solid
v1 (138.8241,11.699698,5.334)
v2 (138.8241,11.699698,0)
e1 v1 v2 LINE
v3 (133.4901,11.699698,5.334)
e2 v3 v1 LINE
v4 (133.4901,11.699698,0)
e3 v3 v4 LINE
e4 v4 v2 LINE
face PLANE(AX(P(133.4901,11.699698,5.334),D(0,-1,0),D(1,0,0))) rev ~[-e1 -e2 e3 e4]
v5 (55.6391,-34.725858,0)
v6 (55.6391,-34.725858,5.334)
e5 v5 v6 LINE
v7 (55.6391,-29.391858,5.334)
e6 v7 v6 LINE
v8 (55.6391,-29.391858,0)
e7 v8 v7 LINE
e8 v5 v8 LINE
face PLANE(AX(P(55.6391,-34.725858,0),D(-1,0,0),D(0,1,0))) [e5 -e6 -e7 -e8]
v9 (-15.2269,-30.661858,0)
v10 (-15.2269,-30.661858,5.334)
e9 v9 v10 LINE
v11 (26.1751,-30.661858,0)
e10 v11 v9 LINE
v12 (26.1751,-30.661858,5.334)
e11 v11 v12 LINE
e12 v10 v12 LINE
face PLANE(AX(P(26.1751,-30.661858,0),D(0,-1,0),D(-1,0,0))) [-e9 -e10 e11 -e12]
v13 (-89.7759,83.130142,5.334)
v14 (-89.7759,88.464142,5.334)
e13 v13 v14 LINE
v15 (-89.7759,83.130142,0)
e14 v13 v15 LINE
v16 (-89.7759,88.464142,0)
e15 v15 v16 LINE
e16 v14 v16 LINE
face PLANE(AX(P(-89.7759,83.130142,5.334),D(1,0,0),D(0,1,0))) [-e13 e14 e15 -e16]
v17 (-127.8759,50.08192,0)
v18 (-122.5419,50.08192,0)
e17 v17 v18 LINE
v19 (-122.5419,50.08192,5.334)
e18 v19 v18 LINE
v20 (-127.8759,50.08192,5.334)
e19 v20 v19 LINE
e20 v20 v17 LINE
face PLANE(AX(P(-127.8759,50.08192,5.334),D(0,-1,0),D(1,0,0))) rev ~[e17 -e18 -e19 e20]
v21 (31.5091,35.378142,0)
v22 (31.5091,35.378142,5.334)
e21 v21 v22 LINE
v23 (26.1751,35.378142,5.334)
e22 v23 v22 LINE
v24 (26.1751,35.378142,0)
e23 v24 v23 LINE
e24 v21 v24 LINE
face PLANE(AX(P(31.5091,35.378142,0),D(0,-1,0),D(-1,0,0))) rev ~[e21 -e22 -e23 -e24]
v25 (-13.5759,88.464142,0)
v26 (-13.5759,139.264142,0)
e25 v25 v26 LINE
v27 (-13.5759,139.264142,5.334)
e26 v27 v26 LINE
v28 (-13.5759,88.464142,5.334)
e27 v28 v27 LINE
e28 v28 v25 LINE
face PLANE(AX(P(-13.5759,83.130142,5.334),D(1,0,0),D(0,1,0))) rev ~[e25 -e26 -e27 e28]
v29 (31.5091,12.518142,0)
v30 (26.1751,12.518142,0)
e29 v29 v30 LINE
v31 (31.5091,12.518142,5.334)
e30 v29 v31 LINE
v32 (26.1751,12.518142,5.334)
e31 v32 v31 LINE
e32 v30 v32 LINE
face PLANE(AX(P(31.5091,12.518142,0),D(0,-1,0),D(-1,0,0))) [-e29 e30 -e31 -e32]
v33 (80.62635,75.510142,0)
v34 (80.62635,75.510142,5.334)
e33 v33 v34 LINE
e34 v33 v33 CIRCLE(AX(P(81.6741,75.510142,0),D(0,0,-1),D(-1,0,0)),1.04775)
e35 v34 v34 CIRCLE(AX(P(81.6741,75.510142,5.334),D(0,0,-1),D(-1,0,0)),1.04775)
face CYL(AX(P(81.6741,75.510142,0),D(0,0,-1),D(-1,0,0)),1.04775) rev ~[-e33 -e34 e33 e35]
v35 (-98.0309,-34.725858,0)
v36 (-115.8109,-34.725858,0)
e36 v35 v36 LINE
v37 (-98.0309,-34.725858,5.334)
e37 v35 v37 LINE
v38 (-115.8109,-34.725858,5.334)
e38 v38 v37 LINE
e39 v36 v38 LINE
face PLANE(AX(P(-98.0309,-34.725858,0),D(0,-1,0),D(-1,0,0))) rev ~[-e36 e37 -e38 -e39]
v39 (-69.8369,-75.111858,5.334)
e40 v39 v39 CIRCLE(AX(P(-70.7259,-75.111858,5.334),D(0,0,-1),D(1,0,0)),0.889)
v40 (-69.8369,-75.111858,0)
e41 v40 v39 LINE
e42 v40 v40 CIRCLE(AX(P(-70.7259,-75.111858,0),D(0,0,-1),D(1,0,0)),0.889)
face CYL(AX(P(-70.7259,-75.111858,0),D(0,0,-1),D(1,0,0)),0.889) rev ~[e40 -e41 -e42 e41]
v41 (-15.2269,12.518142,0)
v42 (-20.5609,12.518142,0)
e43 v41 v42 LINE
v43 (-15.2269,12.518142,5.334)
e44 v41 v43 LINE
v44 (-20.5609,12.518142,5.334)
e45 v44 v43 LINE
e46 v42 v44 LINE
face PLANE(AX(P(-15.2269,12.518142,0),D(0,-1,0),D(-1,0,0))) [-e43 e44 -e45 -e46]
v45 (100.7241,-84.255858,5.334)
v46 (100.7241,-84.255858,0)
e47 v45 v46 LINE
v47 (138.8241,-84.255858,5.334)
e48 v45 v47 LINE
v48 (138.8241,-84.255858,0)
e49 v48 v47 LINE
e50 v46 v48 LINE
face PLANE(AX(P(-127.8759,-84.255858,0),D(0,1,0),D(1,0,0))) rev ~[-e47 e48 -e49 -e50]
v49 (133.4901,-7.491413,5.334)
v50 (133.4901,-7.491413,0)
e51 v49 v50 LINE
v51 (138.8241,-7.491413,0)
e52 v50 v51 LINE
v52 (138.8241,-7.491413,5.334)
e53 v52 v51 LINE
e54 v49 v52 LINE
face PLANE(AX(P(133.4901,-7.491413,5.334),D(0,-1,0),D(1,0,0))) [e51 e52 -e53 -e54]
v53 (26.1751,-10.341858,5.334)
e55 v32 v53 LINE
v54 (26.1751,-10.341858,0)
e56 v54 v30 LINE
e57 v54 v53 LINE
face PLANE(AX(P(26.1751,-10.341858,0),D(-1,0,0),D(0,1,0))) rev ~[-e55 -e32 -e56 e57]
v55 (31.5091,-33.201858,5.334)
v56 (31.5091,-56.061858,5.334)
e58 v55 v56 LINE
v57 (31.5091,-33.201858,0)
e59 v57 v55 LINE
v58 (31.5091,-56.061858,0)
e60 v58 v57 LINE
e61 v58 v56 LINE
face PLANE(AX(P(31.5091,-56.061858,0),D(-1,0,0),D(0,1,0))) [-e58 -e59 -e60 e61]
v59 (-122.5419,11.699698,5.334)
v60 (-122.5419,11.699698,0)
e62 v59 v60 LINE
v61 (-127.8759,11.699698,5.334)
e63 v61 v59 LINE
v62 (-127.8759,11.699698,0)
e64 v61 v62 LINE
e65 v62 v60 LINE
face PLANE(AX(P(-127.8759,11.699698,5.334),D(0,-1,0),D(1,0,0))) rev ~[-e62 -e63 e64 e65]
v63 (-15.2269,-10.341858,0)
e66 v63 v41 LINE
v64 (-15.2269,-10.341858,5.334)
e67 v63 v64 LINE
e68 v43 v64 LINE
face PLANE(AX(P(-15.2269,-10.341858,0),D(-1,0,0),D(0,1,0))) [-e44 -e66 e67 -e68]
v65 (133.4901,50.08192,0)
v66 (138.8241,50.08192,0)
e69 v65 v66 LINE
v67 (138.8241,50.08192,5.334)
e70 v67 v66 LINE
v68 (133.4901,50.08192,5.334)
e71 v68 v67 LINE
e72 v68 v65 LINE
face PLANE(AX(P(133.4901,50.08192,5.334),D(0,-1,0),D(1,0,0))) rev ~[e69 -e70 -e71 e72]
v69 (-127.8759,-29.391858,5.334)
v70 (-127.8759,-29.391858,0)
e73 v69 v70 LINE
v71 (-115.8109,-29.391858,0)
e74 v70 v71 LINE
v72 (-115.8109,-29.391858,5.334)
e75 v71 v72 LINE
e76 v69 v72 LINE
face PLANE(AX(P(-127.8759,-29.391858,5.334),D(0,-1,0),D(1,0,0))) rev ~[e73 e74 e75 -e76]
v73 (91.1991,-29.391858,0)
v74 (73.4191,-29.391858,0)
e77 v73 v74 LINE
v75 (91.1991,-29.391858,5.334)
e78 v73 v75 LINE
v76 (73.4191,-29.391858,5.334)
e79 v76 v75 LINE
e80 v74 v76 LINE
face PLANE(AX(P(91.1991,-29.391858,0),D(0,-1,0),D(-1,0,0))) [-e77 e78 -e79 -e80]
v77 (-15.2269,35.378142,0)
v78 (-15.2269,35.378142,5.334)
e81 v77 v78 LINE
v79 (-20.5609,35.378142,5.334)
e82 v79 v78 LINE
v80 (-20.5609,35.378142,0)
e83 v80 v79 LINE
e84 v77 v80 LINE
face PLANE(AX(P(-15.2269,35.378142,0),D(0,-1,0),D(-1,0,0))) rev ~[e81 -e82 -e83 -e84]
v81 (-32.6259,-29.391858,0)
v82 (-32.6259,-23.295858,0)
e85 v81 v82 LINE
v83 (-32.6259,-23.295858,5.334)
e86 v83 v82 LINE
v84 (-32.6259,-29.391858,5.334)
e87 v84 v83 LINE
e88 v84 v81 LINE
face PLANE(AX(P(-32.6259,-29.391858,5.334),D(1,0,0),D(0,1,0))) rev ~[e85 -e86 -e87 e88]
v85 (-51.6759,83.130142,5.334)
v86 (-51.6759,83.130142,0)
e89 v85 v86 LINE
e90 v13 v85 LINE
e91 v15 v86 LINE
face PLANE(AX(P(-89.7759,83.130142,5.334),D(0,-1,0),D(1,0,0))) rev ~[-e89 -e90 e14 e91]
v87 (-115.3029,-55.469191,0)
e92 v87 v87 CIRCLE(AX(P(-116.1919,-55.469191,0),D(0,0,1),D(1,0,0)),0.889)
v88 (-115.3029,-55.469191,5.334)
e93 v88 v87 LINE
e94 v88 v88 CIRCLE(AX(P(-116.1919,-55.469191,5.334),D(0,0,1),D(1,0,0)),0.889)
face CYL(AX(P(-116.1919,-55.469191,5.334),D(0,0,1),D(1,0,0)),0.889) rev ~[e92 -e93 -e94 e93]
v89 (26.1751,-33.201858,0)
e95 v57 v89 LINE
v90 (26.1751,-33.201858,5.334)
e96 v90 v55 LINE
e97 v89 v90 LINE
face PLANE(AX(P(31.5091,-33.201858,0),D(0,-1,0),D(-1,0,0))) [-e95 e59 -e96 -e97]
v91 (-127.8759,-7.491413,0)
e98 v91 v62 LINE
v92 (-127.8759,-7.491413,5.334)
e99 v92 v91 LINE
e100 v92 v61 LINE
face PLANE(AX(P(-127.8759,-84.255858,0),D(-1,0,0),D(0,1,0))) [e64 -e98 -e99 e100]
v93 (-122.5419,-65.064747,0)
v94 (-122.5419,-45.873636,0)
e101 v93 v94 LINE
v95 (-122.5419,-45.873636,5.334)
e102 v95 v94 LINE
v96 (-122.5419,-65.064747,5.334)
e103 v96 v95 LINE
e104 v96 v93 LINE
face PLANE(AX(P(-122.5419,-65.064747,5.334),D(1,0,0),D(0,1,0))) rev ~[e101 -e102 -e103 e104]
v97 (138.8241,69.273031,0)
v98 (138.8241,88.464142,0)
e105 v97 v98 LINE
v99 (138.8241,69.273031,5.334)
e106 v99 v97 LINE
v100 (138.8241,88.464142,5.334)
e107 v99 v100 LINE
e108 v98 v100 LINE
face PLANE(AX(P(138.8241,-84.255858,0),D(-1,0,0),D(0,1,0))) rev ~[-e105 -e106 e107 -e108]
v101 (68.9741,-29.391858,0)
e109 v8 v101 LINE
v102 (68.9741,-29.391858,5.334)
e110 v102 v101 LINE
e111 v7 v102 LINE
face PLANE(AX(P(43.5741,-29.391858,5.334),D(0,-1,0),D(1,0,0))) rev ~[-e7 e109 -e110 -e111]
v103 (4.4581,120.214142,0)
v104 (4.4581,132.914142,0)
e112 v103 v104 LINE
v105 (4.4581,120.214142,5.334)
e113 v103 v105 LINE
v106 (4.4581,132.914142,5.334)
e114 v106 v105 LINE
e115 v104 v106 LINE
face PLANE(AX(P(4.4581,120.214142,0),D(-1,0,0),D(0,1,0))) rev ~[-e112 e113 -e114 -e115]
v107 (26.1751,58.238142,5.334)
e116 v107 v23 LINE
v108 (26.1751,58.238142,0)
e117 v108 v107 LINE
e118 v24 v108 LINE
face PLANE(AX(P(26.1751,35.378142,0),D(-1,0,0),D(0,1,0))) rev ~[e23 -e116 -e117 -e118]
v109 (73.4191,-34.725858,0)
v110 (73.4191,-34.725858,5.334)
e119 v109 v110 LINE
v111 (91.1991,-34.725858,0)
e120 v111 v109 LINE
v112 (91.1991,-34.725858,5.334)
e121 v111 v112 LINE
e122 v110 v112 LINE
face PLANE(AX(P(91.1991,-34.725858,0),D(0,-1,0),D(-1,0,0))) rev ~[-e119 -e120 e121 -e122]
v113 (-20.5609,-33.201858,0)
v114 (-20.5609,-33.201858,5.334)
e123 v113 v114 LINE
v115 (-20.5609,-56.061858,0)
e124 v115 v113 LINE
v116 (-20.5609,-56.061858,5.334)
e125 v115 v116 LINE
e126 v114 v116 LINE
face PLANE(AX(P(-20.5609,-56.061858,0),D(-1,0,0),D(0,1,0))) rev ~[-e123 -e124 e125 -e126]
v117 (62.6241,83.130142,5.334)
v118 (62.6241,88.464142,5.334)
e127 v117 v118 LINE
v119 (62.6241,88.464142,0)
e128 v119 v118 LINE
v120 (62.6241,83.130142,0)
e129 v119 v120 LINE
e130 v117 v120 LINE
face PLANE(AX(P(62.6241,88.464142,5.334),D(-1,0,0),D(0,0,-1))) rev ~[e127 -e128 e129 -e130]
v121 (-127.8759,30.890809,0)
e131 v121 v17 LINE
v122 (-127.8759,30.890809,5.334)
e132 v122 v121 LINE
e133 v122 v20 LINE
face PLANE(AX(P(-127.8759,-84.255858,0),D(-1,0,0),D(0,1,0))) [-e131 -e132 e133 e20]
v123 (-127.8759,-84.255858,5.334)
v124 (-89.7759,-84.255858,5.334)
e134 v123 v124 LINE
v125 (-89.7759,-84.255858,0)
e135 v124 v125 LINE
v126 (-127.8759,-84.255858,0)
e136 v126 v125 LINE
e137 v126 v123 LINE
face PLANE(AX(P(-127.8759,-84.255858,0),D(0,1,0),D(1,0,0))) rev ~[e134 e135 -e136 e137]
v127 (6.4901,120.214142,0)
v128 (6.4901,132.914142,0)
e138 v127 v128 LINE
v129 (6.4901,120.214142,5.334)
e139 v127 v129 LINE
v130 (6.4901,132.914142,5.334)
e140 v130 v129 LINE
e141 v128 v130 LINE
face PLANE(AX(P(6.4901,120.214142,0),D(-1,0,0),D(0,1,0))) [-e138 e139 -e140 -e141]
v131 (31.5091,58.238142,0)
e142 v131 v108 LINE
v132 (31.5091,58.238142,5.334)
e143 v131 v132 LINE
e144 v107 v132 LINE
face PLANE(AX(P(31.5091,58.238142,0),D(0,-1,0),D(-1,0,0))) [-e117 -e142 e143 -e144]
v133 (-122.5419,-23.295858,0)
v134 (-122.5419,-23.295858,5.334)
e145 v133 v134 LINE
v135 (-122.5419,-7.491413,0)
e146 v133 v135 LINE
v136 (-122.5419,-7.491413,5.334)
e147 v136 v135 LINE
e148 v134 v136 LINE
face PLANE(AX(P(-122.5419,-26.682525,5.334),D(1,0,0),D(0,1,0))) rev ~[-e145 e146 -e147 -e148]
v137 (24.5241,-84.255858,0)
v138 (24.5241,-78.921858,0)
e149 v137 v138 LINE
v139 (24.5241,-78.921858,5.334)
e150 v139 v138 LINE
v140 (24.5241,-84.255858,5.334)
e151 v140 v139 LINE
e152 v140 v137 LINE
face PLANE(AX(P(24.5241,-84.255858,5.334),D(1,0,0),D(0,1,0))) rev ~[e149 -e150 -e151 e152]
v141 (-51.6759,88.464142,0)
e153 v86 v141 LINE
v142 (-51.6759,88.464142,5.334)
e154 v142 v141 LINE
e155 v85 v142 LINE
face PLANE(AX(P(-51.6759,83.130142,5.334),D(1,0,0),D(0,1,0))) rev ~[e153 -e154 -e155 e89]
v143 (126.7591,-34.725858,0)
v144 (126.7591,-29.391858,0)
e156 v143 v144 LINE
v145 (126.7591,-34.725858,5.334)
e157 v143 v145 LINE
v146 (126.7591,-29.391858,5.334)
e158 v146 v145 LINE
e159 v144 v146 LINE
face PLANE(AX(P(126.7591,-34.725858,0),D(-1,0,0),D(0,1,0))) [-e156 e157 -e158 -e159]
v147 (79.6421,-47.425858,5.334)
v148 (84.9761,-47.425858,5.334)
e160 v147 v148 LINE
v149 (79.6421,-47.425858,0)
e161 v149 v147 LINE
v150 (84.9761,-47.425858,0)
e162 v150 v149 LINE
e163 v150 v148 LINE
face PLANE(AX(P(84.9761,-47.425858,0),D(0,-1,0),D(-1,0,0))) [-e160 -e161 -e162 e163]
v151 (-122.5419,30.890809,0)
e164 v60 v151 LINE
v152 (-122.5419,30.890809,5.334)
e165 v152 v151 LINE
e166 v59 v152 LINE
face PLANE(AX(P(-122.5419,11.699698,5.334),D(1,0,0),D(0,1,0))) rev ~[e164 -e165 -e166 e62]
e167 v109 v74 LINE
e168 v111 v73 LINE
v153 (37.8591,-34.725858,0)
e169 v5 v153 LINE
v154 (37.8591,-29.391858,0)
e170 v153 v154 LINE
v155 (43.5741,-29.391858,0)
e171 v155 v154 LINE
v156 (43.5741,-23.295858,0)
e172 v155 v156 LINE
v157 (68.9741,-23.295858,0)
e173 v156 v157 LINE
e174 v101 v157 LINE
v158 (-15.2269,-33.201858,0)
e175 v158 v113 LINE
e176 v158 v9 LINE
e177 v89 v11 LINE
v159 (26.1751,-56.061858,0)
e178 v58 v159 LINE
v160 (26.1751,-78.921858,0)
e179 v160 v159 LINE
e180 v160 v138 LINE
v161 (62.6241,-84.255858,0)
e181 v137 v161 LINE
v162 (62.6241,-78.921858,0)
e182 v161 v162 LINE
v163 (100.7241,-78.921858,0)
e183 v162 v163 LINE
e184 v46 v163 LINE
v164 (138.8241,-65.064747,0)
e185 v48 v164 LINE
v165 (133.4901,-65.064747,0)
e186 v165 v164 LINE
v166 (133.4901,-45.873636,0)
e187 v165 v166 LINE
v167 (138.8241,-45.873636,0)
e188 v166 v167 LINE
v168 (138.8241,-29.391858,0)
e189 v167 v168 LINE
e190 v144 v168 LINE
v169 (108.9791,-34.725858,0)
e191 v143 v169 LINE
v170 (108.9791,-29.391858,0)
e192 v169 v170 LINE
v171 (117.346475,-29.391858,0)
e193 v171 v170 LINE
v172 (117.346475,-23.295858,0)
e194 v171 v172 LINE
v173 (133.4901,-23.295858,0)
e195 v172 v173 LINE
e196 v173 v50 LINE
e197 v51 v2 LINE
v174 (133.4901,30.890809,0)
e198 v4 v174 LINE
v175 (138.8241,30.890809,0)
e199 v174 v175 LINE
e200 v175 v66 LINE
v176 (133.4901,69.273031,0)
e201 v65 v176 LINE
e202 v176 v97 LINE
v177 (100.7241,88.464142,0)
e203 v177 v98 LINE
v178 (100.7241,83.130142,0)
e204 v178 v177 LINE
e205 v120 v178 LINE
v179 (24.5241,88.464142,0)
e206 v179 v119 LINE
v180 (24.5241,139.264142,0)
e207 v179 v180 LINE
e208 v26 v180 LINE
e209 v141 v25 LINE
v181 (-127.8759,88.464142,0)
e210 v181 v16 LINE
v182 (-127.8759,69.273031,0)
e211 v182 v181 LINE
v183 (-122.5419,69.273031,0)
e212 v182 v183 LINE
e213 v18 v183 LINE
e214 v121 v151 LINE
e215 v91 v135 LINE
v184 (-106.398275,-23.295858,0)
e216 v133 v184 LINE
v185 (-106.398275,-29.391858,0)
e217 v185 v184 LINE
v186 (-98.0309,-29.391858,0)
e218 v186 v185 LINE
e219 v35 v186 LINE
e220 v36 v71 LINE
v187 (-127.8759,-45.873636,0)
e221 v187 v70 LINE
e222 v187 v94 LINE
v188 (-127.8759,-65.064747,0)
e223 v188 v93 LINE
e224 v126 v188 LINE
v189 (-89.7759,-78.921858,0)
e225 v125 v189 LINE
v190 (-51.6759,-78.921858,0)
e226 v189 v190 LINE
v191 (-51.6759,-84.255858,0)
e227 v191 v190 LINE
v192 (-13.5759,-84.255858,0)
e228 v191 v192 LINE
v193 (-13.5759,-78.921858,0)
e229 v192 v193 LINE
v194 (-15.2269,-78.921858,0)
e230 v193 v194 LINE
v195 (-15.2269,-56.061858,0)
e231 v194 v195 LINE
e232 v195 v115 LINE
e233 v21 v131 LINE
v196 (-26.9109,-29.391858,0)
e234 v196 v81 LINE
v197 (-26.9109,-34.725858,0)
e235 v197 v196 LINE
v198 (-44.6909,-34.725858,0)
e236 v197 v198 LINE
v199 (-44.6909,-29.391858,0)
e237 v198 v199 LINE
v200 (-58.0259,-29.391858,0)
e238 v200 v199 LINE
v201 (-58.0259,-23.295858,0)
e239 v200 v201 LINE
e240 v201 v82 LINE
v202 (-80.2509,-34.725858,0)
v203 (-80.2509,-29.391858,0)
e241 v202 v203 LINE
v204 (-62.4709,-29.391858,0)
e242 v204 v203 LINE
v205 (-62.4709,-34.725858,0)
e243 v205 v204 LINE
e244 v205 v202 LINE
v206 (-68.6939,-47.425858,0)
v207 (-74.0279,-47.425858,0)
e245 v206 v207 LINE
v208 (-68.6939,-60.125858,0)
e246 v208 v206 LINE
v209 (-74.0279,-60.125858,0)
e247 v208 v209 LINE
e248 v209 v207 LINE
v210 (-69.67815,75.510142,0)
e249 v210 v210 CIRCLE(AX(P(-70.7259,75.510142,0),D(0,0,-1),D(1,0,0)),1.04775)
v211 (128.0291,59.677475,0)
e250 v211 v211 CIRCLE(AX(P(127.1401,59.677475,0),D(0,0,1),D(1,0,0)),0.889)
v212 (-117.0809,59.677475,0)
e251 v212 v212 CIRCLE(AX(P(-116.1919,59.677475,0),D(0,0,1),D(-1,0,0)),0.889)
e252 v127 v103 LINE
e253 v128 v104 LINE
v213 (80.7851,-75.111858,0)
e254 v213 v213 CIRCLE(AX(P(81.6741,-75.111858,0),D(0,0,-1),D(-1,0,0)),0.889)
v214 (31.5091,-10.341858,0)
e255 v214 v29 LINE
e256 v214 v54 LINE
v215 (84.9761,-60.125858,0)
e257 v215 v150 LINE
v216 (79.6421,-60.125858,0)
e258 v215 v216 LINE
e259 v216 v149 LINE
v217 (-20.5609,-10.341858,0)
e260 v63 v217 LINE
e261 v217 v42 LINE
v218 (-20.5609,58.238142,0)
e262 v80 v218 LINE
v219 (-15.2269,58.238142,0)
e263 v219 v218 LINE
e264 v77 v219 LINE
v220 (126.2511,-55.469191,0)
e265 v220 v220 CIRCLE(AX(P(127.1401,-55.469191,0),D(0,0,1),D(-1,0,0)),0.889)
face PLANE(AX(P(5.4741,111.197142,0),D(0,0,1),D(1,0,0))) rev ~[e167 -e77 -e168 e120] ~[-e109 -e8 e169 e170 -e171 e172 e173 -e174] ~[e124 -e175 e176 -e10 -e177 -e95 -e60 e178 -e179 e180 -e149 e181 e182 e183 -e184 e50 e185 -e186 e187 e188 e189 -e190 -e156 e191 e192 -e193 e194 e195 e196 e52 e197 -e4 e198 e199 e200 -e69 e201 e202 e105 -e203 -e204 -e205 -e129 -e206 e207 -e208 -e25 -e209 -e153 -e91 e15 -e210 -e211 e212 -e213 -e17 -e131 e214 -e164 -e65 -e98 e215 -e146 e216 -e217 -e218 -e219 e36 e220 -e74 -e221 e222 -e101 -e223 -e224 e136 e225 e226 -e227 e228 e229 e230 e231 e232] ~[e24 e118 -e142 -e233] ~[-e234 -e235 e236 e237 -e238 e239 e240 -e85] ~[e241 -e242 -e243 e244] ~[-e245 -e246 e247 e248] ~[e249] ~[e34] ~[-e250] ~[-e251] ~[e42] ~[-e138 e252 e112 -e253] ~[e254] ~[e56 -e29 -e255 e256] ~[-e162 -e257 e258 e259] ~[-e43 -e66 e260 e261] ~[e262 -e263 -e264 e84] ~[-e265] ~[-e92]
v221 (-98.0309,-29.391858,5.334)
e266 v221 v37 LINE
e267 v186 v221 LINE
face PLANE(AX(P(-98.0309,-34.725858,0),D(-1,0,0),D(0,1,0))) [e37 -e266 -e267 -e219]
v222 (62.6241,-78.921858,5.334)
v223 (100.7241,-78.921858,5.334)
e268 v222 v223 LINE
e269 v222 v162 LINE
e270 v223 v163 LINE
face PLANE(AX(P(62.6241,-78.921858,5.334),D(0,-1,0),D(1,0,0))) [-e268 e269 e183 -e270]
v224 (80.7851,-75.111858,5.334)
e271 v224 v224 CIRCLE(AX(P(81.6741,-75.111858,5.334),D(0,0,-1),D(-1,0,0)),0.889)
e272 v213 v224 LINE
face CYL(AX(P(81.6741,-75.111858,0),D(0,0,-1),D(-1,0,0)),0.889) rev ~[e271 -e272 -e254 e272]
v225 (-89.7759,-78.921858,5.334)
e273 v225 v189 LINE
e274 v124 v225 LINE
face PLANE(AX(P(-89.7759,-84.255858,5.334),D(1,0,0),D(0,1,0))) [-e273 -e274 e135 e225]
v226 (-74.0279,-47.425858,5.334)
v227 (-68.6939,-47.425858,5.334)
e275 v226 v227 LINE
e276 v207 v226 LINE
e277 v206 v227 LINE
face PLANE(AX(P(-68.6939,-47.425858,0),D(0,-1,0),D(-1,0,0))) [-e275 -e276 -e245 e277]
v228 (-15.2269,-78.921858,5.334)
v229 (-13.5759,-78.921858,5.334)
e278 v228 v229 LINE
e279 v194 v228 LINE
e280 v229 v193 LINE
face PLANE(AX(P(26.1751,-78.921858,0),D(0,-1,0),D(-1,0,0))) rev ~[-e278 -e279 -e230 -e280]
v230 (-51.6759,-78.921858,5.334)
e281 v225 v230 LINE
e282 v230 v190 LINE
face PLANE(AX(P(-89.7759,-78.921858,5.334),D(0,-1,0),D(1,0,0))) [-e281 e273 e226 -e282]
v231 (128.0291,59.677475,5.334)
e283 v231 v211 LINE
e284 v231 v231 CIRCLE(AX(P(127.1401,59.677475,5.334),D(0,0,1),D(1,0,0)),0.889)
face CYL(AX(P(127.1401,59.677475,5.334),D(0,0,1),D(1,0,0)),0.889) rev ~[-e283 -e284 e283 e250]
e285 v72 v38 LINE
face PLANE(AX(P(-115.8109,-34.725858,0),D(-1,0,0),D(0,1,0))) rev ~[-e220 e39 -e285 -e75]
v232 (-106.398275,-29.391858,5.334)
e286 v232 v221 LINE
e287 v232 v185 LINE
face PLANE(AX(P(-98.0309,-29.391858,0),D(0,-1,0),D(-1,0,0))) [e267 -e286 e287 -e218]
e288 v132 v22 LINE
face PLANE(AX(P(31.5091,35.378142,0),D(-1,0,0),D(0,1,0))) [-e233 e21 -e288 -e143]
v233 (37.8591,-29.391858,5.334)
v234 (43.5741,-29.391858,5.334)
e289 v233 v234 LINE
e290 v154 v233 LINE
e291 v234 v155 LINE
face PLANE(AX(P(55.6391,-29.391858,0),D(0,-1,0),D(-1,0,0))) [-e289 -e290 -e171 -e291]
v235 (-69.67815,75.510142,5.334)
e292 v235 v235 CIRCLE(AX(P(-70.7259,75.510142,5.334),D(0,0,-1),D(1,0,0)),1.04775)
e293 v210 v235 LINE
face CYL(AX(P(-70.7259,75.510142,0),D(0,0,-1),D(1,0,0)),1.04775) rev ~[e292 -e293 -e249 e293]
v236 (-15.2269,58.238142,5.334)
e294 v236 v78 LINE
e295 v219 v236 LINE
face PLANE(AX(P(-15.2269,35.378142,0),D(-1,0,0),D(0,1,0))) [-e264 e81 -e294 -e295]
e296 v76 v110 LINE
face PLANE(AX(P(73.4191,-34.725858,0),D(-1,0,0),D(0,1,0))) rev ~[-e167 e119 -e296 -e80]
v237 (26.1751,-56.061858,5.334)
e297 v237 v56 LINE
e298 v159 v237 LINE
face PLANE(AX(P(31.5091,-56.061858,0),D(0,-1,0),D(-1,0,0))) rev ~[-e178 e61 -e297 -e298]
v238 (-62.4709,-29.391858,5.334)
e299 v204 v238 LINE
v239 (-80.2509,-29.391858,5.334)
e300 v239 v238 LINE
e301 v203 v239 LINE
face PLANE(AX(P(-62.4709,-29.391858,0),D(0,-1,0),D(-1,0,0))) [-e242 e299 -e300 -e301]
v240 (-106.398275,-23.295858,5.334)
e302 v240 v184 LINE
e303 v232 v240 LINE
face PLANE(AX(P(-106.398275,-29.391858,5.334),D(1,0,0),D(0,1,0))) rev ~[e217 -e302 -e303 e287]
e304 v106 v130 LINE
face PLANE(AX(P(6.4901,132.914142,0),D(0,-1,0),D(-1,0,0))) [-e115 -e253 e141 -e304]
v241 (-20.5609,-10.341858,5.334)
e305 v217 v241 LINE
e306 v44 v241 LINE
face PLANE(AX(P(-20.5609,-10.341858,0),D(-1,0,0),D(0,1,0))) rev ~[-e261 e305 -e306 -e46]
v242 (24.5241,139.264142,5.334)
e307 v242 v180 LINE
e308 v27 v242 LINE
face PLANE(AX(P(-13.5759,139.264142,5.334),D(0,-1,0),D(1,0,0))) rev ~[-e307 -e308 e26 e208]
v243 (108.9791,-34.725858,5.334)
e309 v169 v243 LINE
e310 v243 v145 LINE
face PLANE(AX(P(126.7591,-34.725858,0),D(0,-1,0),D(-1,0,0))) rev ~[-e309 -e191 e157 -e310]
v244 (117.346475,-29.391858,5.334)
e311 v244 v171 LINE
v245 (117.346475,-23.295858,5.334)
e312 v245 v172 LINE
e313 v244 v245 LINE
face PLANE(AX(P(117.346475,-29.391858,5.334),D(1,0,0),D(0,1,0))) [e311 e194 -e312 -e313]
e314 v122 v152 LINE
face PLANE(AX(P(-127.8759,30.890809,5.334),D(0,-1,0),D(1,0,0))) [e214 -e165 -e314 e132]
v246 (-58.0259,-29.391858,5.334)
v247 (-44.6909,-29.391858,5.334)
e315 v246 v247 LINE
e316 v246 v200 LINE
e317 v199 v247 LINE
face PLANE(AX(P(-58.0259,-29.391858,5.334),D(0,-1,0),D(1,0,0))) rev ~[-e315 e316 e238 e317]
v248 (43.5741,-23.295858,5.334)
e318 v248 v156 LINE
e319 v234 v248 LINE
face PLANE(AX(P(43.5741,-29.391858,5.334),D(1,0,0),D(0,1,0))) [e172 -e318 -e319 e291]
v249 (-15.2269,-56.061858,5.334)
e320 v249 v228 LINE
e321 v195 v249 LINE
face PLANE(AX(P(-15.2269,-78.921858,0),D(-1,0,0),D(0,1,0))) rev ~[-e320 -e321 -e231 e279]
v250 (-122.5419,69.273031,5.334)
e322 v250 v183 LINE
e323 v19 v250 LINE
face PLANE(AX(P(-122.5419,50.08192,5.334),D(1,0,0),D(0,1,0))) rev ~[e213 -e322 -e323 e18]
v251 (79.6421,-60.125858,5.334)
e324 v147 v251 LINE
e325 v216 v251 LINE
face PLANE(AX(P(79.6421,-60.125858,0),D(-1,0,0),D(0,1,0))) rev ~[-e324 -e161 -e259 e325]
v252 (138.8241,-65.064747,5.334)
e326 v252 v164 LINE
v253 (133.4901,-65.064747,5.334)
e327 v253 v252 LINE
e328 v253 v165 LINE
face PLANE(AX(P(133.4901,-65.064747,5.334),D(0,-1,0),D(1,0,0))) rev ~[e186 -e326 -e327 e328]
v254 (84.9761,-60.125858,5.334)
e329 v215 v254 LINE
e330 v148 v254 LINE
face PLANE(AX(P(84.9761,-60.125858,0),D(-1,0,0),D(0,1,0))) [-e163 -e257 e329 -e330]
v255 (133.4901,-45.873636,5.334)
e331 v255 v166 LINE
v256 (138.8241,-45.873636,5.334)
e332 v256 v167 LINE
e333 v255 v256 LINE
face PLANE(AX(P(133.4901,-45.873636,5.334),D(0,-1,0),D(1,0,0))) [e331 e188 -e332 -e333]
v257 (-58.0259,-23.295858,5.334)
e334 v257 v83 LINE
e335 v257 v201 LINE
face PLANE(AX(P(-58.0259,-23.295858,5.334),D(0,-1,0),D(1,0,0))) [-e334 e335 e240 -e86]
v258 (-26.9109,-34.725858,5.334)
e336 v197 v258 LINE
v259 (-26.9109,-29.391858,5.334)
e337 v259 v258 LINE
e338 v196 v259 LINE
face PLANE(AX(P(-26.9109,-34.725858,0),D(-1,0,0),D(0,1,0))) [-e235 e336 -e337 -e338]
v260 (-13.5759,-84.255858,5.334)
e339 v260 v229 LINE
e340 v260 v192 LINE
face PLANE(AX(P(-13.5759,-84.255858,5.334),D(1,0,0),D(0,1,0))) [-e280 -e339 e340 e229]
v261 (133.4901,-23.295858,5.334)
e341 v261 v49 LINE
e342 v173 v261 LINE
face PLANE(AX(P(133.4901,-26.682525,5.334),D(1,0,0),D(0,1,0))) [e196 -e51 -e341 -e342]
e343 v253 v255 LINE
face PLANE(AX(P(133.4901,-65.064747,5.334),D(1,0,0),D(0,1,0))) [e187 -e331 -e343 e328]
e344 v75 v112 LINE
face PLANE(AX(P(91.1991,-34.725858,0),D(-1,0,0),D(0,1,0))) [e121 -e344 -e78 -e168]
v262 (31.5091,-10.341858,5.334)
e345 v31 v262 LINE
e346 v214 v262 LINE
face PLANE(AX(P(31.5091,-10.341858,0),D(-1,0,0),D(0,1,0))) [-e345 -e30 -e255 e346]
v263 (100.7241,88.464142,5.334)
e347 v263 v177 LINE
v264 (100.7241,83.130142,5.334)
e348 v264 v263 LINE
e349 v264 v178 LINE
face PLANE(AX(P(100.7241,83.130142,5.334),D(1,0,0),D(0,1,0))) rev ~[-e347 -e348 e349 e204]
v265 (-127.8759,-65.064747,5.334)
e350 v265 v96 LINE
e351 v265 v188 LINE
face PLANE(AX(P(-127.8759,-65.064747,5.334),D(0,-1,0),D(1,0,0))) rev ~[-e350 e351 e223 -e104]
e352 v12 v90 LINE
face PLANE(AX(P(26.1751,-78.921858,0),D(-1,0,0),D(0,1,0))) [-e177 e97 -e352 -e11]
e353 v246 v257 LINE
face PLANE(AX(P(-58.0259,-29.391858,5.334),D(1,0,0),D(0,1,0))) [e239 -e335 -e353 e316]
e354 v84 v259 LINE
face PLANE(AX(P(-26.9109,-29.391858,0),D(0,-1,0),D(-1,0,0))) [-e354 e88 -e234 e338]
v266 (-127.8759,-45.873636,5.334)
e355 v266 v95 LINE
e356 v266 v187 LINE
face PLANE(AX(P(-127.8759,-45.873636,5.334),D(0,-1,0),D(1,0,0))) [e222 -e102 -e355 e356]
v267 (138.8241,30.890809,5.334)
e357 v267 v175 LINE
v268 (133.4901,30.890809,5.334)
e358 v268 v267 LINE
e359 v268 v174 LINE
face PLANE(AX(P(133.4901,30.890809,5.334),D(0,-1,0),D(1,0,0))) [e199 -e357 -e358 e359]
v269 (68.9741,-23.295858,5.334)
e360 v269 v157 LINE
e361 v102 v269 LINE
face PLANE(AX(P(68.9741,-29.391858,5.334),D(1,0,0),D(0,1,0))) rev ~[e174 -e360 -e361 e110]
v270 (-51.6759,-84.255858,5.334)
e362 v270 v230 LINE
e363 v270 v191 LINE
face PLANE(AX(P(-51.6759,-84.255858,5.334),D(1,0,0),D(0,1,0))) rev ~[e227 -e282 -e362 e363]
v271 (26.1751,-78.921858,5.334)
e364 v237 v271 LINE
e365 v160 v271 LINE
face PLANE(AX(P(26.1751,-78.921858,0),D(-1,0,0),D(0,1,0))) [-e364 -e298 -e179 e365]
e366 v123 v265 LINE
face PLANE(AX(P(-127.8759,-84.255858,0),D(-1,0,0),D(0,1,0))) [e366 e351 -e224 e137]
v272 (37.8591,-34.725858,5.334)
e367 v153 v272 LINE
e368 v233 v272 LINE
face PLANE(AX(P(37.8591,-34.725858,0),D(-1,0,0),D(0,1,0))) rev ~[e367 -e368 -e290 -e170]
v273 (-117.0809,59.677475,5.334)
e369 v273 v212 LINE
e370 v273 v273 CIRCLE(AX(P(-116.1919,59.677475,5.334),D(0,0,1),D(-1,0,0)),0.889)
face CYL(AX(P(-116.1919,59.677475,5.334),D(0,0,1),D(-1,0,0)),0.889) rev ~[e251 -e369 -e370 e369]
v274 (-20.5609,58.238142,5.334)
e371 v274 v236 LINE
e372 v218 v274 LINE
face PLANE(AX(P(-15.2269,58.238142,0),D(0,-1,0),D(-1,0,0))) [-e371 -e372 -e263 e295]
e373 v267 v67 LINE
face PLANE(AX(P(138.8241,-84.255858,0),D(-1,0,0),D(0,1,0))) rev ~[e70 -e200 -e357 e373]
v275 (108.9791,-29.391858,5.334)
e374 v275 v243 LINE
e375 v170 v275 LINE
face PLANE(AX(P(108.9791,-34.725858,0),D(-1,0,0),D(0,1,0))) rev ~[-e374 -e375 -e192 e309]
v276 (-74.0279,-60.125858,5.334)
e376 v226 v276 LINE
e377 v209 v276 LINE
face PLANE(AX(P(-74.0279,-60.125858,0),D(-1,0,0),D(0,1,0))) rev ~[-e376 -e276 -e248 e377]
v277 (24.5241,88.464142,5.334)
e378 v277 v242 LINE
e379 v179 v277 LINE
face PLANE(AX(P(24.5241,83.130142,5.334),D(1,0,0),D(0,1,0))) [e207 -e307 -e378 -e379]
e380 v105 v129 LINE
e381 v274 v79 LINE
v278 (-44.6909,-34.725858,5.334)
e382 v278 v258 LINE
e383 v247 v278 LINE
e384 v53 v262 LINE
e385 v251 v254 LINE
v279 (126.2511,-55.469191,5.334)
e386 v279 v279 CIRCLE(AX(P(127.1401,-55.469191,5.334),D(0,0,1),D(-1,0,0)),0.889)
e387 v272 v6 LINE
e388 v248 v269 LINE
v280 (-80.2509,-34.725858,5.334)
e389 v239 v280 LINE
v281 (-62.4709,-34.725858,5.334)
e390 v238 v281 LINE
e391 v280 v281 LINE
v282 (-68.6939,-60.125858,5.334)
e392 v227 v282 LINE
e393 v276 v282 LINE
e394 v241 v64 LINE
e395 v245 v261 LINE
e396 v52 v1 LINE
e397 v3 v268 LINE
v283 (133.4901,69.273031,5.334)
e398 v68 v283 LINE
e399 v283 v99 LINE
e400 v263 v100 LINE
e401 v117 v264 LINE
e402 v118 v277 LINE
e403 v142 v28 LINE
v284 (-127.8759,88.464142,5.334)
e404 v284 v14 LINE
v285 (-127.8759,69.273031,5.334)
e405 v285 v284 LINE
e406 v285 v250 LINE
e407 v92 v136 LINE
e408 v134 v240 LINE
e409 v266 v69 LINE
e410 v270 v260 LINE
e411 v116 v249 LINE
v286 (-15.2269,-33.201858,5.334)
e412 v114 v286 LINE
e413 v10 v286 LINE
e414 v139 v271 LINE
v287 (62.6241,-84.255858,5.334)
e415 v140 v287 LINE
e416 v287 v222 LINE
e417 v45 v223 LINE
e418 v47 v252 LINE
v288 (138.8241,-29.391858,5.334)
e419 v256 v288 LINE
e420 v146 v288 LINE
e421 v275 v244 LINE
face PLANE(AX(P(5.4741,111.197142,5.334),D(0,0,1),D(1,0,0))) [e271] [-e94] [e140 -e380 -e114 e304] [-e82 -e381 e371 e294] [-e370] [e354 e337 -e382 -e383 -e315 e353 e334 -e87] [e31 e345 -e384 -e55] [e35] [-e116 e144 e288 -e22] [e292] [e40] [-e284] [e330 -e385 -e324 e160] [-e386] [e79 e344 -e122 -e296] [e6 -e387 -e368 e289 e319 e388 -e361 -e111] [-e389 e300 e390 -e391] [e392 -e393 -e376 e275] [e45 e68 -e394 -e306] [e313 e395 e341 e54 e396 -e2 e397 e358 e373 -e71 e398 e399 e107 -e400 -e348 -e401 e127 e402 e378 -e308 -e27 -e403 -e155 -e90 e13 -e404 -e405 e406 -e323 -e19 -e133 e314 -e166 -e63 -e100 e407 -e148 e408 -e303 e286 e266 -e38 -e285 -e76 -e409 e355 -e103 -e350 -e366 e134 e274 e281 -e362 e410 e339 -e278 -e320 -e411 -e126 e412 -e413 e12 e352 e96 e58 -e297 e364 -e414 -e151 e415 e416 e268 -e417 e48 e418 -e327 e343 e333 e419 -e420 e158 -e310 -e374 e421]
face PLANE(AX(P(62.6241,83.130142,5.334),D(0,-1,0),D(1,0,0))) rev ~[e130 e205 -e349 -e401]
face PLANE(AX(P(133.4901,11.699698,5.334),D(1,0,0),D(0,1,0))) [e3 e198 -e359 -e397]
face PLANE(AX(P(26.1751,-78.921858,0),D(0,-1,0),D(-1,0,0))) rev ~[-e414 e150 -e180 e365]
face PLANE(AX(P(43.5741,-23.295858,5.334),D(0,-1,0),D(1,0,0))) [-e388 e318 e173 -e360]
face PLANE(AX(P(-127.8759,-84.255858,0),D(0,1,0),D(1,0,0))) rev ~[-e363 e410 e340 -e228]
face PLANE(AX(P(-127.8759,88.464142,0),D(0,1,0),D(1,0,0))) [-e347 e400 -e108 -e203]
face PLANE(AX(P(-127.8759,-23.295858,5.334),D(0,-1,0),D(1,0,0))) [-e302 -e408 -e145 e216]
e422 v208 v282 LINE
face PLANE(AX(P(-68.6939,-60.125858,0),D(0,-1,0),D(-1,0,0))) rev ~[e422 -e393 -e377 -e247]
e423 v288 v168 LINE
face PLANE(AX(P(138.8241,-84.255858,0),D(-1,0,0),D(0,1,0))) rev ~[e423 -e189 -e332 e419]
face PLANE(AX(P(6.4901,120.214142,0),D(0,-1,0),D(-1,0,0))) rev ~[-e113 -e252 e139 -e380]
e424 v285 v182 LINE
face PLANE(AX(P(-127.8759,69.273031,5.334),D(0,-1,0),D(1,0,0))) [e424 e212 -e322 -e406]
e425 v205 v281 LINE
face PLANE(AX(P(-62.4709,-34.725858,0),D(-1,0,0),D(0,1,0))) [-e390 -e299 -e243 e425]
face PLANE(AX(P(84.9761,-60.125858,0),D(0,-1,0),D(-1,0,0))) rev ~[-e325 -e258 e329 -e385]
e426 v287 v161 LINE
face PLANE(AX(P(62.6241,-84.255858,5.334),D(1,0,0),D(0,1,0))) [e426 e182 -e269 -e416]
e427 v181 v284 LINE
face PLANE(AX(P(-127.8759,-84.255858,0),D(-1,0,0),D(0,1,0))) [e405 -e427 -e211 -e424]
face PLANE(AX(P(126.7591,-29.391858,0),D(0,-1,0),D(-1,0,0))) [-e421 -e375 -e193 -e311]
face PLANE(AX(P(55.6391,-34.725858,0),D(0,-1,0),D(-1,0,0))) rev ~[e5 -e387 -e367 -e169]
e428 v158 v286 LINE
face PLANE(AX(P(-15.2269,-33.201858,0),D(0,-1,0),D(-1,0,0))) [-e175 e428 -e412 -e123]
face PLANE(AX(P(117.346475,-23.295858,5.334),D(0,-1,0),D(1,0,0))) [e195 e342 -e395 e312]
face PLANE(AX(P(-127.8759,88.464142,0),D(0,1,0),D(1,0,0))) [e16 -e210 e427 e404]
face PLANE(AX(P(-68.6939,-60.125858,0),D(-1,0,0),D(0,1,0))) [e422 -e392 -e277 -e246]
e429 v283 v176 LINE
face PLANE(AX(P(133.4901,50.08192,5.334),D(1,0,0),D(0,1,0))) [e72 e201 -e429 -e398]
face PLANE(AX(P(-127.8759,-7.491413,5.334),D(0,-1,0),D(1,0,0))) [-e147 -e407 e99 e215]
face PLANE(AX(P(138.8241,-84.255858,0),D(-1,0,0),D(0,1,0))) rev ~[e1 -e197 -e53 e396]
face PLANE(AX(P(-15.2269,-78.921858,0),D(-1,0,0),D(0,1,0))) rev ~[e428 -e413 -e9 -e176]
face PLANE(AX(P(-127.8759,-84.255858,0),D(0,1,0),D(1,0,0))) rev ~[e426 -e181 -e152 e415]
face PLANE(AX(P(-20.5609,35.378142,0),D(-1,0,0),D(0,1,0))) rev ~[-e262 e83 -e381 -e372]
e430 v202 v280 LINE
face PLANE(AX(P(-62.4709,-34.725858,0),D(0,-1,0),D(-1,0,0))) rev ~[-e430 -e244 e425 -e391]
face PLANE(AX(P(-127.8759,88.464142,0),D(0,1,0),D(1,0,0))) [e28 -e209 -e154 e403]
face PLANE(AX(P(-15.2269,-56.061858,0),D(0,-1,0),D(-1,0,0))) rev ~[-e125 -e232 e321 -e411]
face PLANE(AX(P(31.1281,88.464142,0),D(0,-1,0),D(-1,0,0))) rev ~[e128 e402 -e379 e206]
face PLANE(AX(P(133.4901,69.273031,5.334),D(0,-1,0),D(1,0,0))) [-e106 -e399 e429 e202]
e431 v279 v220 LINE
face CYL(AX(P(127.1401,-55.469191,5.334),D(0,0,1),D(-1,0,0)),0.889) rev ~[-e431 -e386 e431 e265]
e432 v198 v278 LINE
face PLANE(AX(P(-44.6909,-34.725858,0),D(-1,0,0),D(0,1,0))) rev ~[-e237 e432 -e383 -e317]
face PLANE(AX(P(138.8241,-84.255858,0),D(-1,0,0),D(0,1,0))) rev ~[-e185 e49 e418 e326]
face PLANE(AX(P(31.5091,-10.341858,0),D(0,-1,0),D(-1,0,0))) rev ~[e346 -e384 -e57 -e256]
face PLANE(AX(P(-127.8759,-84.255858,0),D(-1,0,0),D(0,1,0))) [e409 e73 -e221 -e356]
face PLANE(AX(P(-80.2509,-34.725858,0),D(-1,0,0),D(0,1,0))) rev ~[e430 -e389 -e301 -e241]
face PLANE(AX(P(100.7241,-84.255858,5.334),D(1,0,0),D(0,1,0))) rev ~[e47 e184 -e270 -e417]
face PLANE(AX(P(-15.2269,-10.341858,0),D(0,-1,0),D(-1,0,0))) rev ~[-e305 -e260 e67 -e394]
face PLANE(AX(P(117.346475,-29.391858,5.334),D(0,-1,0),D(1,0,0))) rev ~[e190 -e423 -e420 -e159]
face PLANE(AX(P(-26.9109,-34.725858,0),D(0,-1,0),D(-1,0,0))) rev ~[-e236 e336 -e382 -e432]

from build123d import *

# Parameters (mm, degrees)
SKETCH1_W           = 266.7
SKETCH1_H           = 172.72
BOSS_EXTRUDE1_DEPTH = 5.334
SKETCH2_W           = 38.1
SKETCH2_H           = 5.334
CUT_EXTRUDE1_DEPTH  = 165.701204222
SKETCH5_W           = 25.4
SKETCH5_H           = 6.096
SKETCH5_W_2         = 21.477624924
SKETCH5_W_3         = 21.477624925
CUT_EXTRUDE3_DEPTH  = 165.701204222
SKETCH9_W           = 5.334
SKETCH9_H           = 19.191111111
CUT_EXTRUDE7_DEPTH  = 165.701204222
SKETCH10_W          = 38.1
SKETCH10_H          = 5.334
BOSS_EXTRUDE2_DEPTH = 50.8
SKETCH11_W          = 6.604
SKETCH11_H          = 40.64
CUT_EXTRUDE8_DEPTH  = 197.710659379
SKETCH12_R          = 3.81
CUT_EXTRUDE9_DEPTH  = 197.710659379
SKETCH15_W          = 6.604
SKETCH15_H          = 10.16
CUT_EXTRUDE12_DEPTH = 197.710659379
SKETCH18_W          = 38.1
SKETCH18_H          = 56.134
BOSS_EXTRUDE3_DEPTH = 5.334
SKETCH19_W          = 34.756768033
SKETCH19_H          = 54.94363668
CUT_EXTRUDE15_DEPTH = 197.710659379
SKETCH21_R          = 0.889
CUT_EXTRUDE17_DEPTH = 197.710659379
SKETCH23_R          = 1.04775
CUT_EXTRUDE19_DEPTH = 197.710659379
SKETCH25_W          = 17.78
SKETCH25_H          = 5.334
CUT_EXTRUDE20_DEPTH = 197.710659379
SKETCH26_W          = 5.334
SKETCH26_H          = 12.7
CUT_EXTRUDE21_DEPTH = 197.710659379
SKETCH27_W          = 41.402
SKETCH27_H          = 48.26
CUT_EXTRUDE22_DEPTH = 197.710659379
SKETCH28_W          = 5.334
SKETCH28_H          = 22.86
CUT_EXTRUDE23_DEPTH = 197.710659379
SKETCH29_R          = 0.889
CUT_EXTRUDE24_DEPTH = 197.710659379
SKETCH30_W          = 2.032
SKETCH30_H          = 12.7
CUT_EXTRUDE25_DEPTH = 197.710659379


with BuildPart() as part:
    # Sketch1 → Boss-Extrude1 (new body)
    with BuildSketch(Plane.XY):
        with Locations((5.474099752, 2.104142138)):
            Rectangle(SKETCH1_W, SKETCH1_H)
    extrude(amount=BOSS_EXTRUDE1_DEPTH)

    # Sketch2 → Cut-Extrude1 (cut, through all)
    with BuildSketch(Plane.XY.offset(5.334)):
        with Locations((-70.725900248, -81.588857862)):
            Rectangle(SKETCH2_W, SKETCH2_H)
        with Locations((5.474099752, -81.588857862)):
            Rectangle(SKETCH2_W, SKETCH2_H)
        with Locations((81.674099752, -81.588857862)):
            Rectangle(SKETCH2_W, SKETCH2_H)
        with Locations((81.674099752, 85.797142138)):
            Rectangle(SKETCH2_W, SKETCH2_H)
        with Locations((5.474099752, 85.797142138)):
            Rectangle(SKETCH2_W, SKETCH2_H)
        with Locations((-70.725900248, 85.797142138)):
            Rectangle(SKETCH2_W, SKETCH2_H)
    extrude(amount=-CUT_EXTRUDE1_DEPTH, mode=Mode.SUBTRACT)

    # Sketch5 → Cut-Extrude3 (cut, through all)
    with BuildSketch(Plane.XY.offset(5.334)):
        with Locations((56.274099752, -26.343857862)):
            Rectangle(SKETCH5_W, SKETCH5_H)
        with Locations((-45.325900248, -26.343857862)):
            Rectangle(SKETCH5_W, SKETCH5_H)
        with Locations((-117.137087786, -26.343857862)):
            Rectangle(SKETCH5_W_2, SKETCH5_H)
        with Locations((128.08528729, -26.343857862)):
            Rectangle(SKETCH5_W_3, SKETCH5_H)
    extrude(amount=-CUT_EXTRUDE3_DEPTH, mode=Mode.SUBTRACT)

    # Sketch9 → Cut-Extrude7 (cut, through all)
    with BuildSketch(Plane.XY.offset(5.334)):
        with Locations((-125.208900248, -55.469191196)):
            Rectangle(SKETCH9_W, SKETCH9_H)
        with Locations((-125.208900248, -17.086968973)):
            Rectangle(SKETCH9_W, SKETCH9_H)
        with Locations((-125.208900248, 21.295253249)):
            Rectangle(SKETCH9_W, SKETCH9_H)
        with Locations((-125.208900248, 59.677475472)):
            Rectangle(SKETCH9_W, SKETCH9_H)
        with Locations((136.157099752, 59.677475472)):
            Rectangle(SKETCH9_W, SKETCH9_H)
        with Locations((136.157099752, 21.295253249)):
            Rectangle(SKETCH9_W, SKETCH9_H)
        with Locations((136.157099752, -17.086968973)):
            Rectangle(SKETCH9_W, SKETCH9_H)
        with Locations((136.157099752, -55.469191196)):
            Rectangle(SKETCH9_W, SKETCH9_H)
    extrude(amount=-CUT_EXTRUDE7_DEPTH, mode=Mode.SUBTRACT)

    # Sketch10 → Boss-Extrude2 (add)
    with BuildSketch(Plane(origin=(0, 88.464142138, 0), x_dir=(1, 0, 0), z_dir=(0, 1, 0))):
        with Locations((43.574099752, -2.667)):
            Rectangle(SKETCH10_W, SKETCH10_H)
    extrude(amount=BOSS_EXTRUDE2_DEPTH)

    # Sketch11 → Cut-Extrude8 (cut, through all)
    with BuildSketch(Plane(origin=(0, 0, 0), x_dir=(-1, 0, 0), z_dir=(0, 0, -1))):
        with Locations((-27.826099752, 108.784142138)):
            Rectangle(SKETCH11_W, SKETCH11_H)
    extrude(amount=-CUT_EXTRUDE8_DEPTH, mode=Mode.SUBTRACT)

    # Sketch12 → Cut-Extrude9 (cut, through all)
    with BuildSketch(Plane.XY.offset(5.334)):
        with Locations((43.574099752, 130.476471297)):
            Circle(SKETCH12_R)
    extrude(amount=-CUT_EXTRUDE9_DEPTH, mode=Mode.SUBTRACT)

    # Sketch15 → Cut-Extrude12 (cut, through all)
    with BuildSketch(Plane.XY.offset(5.334)):
        with Locations((27.826099752, 134.184142138)):
            Rectangle(SKETCH15_W, SKETCH15_H)
    extrude(amount=-CUT_EXTRUDE12_DEPTH, mode=Mode.SUBTRACT)

    # Sketch18 → Boss-Extrude3 (add)
    with BuildSketch(Plane.XY.offset(5.334)):
        with Locations((5.474099752, 111.197142138)):
            Rectangle(SKETCH18_W, SKETCH18_H)
    extrude(amount=-BOSS_EXTRUDE3_DEPTH)

    # Sketch19 → Cut-Extrude15 (cut, through all)
    with BuildSketch(Plane.XY.offset(5.334)):
        with Locations((48.506483768, 115.935960478)):
            Rectangle(SKETCH19_W, SKETCH19_H)
    extrude(amount=-CUT_EXTRUDE15_DEPTH, mode=Mode.SUBTRACT)

    # Sketch21 → Cut-Extrude17 (cut, through all)
    with BuildSketch(Plane.XY.offset(5.334)):
        with Locations((127.140099752, 59.677475471)):
            Circle(SKETCH21_R)
        with Locations(Location((-116.191900248, 59.677475471, 0), (0, 0, 180))):
            Circle(SKETCH21_R)
        with Locations((-116.191900248, -55.469191196)):
            Circle(SKETCH21_R)
        with Locations(Location((127.140099752, -55.469191196, 0), (0, 0, 180))):
            Circle(SKETCH21_R)
    extrude(amount=-CUT_EXTRUDE17_DEPTH, mode=Mode.SUBTRACT)

    # Sketch23 → Cut-Extrude19 (cut, through all)
    with BuildSketch(Plane(origin=(0, 0, 0), x_dir=(-1, 0, 0), z_dir=(0, 0, -1))):
        with Locations((-81.674099752, 75.510142138)):
            Circle(SKETCH23_R)
        with Locations(Location((70.725900248, 75.510142138, 0), (0, 0, 180))):
            Circle(SKETCH23_R)
    extrude(amount=-CUT_EXTRUDE19_DEPTH, mode=Mode.SUBTRACT)

    # Sketch25 → Cut-Extrude20 (cut, through all)
    with BuildSketch(Plane(origin=(0, 0, 0), x_dir=(-1, 0, 0), z_dir=(0, 0, -1))):
        with Locations((-117.869099752, -32.058857862)):
            Rectangle(SKETCH25_W, SKETCH25_H)
        with Locations((-82.309099752, -32.058857862)):
            Rectangle(SKETCH25_W, SKETCH25_H)
        with Locations((-46.749099752, -32.058857862)):
            Rectangle(SKETCH25_W, SKETCH25_H)
        with Locations((35.800900248, -32.058857862)):
            Rectangle(SKETCH25_W, SKETCH25_H)
        with Locations((106.920900248, -32.058857862)):
            Rectangle(SKETCH25_W, SKETCH25_H)
        with Locations((71.360900248, -32.058857862)):
            Rectangle(SKETCH25_W, SKETCH25_H)
    extrude(amount=-CUT_EXTRUDE20_DEPTH, mode=Mode.SUBTRACT)

    # Sketch26 → Cut-Extrude21 (cut, through all)
    with BuildSketch(Plane(origin=(0, 0, 0), x_dir=(-1, 0, 0), z_dir=(0, 0, -1))):
        with Locations((-82.309099752, -53.775857862)):
            Rectangle(SKETCH26_W, SKETCH26_H)
        with Locations((71.360900248, -53.775857862)):
            Rectangle(SKETCH26_W, SKETCH26_H)
    extrude(amount=-CUT_EXTRUDE21_DEPTH, mode=Mode.SUBTRACT)

    # Sketch27 → Cut-Extrude22 (cut, through all)
    with BuildSketch(Plane(origin=(0, 0, 0), x_dir=(-1, 0, 0), z_dir=(0, 0, -1))):
        with Locations((-5.474099752, -54.791857862)):
            Rectangle(SKETCH27_W, SKETCH27_H)
    extrude(amount=-CUT_EXTRUDE22_DEPTH, mode=Mode.SUBTRACT)

    # Sketch28 → Cut-Extrude23 (cut, through all)
    with BuildSketch(Plane(origin=(0, 0, 0), x_dir=(-1, 0, 0), z_dir=(0, 0, -1))):
        with Locations((-28.842099752, -44.631857862)):
            Rectangle(SKETCH28_W, SKETCH28_H)
        with Locations((-28.842099752, 1.088142138)):
            Rectangle(SKETCH28_W, SKETCH28_H)
        with Locations((-28.842099752, 46.808142138)):
            Rectangle(SKETCH28_W, SKETCH28_H)
        with Locations((17.893900248, 46.808142138)):
            Rectangle(SKETCH28_W, SKETCH28_H)
        with Locations((17.893900248, 1.088142138)):
            Rectangle(SKETCH28_W, SKETCH28_H)
        with Locations((17.893900248, -44.631857862)):
            Rectangle(SKETCH28_W, SKETCH28_H)
    extrude(amount=-CUT_EXTRUDE23_DEPTH, mode=Mode.SUBTRACT)

    # Sketch29 → Cut-Extrude24 (cut, through all)
    with BuildSketch(Plane(origin=(0, 0, 0), x_dir=(-1, 0, 0), z_dir=(0, 0, -1))):
        with Locations((-81.674099752, -75.111857862)):
            Circle(SKETCH29_R)
        with Locations(Location((70.725900248, -75.111857862, 0), (0, 0, 180))):
            Circle(SKETCH29_R)
    extrude(amount=-CUT_EXTRUDE24_DEPTH, mode=Mode.SUBTRACT)

    # Sketch30 → Cut-Extrude25 (cut, through all)
    with BuildSketch(Plane(origin=(0, 0, 0), x_dir=(-1, 0, 0), z_dir=(0, 0, -1))):
        with Locations((-5.474099752, 126.564142138)):
            Rectangle(SKETCH30_W, SKETCH30_H)
    extrude(amount=-CUT_EXTRUDE25_DEPTH, mode=Mode.SUBTRACT)


solid = part.part
